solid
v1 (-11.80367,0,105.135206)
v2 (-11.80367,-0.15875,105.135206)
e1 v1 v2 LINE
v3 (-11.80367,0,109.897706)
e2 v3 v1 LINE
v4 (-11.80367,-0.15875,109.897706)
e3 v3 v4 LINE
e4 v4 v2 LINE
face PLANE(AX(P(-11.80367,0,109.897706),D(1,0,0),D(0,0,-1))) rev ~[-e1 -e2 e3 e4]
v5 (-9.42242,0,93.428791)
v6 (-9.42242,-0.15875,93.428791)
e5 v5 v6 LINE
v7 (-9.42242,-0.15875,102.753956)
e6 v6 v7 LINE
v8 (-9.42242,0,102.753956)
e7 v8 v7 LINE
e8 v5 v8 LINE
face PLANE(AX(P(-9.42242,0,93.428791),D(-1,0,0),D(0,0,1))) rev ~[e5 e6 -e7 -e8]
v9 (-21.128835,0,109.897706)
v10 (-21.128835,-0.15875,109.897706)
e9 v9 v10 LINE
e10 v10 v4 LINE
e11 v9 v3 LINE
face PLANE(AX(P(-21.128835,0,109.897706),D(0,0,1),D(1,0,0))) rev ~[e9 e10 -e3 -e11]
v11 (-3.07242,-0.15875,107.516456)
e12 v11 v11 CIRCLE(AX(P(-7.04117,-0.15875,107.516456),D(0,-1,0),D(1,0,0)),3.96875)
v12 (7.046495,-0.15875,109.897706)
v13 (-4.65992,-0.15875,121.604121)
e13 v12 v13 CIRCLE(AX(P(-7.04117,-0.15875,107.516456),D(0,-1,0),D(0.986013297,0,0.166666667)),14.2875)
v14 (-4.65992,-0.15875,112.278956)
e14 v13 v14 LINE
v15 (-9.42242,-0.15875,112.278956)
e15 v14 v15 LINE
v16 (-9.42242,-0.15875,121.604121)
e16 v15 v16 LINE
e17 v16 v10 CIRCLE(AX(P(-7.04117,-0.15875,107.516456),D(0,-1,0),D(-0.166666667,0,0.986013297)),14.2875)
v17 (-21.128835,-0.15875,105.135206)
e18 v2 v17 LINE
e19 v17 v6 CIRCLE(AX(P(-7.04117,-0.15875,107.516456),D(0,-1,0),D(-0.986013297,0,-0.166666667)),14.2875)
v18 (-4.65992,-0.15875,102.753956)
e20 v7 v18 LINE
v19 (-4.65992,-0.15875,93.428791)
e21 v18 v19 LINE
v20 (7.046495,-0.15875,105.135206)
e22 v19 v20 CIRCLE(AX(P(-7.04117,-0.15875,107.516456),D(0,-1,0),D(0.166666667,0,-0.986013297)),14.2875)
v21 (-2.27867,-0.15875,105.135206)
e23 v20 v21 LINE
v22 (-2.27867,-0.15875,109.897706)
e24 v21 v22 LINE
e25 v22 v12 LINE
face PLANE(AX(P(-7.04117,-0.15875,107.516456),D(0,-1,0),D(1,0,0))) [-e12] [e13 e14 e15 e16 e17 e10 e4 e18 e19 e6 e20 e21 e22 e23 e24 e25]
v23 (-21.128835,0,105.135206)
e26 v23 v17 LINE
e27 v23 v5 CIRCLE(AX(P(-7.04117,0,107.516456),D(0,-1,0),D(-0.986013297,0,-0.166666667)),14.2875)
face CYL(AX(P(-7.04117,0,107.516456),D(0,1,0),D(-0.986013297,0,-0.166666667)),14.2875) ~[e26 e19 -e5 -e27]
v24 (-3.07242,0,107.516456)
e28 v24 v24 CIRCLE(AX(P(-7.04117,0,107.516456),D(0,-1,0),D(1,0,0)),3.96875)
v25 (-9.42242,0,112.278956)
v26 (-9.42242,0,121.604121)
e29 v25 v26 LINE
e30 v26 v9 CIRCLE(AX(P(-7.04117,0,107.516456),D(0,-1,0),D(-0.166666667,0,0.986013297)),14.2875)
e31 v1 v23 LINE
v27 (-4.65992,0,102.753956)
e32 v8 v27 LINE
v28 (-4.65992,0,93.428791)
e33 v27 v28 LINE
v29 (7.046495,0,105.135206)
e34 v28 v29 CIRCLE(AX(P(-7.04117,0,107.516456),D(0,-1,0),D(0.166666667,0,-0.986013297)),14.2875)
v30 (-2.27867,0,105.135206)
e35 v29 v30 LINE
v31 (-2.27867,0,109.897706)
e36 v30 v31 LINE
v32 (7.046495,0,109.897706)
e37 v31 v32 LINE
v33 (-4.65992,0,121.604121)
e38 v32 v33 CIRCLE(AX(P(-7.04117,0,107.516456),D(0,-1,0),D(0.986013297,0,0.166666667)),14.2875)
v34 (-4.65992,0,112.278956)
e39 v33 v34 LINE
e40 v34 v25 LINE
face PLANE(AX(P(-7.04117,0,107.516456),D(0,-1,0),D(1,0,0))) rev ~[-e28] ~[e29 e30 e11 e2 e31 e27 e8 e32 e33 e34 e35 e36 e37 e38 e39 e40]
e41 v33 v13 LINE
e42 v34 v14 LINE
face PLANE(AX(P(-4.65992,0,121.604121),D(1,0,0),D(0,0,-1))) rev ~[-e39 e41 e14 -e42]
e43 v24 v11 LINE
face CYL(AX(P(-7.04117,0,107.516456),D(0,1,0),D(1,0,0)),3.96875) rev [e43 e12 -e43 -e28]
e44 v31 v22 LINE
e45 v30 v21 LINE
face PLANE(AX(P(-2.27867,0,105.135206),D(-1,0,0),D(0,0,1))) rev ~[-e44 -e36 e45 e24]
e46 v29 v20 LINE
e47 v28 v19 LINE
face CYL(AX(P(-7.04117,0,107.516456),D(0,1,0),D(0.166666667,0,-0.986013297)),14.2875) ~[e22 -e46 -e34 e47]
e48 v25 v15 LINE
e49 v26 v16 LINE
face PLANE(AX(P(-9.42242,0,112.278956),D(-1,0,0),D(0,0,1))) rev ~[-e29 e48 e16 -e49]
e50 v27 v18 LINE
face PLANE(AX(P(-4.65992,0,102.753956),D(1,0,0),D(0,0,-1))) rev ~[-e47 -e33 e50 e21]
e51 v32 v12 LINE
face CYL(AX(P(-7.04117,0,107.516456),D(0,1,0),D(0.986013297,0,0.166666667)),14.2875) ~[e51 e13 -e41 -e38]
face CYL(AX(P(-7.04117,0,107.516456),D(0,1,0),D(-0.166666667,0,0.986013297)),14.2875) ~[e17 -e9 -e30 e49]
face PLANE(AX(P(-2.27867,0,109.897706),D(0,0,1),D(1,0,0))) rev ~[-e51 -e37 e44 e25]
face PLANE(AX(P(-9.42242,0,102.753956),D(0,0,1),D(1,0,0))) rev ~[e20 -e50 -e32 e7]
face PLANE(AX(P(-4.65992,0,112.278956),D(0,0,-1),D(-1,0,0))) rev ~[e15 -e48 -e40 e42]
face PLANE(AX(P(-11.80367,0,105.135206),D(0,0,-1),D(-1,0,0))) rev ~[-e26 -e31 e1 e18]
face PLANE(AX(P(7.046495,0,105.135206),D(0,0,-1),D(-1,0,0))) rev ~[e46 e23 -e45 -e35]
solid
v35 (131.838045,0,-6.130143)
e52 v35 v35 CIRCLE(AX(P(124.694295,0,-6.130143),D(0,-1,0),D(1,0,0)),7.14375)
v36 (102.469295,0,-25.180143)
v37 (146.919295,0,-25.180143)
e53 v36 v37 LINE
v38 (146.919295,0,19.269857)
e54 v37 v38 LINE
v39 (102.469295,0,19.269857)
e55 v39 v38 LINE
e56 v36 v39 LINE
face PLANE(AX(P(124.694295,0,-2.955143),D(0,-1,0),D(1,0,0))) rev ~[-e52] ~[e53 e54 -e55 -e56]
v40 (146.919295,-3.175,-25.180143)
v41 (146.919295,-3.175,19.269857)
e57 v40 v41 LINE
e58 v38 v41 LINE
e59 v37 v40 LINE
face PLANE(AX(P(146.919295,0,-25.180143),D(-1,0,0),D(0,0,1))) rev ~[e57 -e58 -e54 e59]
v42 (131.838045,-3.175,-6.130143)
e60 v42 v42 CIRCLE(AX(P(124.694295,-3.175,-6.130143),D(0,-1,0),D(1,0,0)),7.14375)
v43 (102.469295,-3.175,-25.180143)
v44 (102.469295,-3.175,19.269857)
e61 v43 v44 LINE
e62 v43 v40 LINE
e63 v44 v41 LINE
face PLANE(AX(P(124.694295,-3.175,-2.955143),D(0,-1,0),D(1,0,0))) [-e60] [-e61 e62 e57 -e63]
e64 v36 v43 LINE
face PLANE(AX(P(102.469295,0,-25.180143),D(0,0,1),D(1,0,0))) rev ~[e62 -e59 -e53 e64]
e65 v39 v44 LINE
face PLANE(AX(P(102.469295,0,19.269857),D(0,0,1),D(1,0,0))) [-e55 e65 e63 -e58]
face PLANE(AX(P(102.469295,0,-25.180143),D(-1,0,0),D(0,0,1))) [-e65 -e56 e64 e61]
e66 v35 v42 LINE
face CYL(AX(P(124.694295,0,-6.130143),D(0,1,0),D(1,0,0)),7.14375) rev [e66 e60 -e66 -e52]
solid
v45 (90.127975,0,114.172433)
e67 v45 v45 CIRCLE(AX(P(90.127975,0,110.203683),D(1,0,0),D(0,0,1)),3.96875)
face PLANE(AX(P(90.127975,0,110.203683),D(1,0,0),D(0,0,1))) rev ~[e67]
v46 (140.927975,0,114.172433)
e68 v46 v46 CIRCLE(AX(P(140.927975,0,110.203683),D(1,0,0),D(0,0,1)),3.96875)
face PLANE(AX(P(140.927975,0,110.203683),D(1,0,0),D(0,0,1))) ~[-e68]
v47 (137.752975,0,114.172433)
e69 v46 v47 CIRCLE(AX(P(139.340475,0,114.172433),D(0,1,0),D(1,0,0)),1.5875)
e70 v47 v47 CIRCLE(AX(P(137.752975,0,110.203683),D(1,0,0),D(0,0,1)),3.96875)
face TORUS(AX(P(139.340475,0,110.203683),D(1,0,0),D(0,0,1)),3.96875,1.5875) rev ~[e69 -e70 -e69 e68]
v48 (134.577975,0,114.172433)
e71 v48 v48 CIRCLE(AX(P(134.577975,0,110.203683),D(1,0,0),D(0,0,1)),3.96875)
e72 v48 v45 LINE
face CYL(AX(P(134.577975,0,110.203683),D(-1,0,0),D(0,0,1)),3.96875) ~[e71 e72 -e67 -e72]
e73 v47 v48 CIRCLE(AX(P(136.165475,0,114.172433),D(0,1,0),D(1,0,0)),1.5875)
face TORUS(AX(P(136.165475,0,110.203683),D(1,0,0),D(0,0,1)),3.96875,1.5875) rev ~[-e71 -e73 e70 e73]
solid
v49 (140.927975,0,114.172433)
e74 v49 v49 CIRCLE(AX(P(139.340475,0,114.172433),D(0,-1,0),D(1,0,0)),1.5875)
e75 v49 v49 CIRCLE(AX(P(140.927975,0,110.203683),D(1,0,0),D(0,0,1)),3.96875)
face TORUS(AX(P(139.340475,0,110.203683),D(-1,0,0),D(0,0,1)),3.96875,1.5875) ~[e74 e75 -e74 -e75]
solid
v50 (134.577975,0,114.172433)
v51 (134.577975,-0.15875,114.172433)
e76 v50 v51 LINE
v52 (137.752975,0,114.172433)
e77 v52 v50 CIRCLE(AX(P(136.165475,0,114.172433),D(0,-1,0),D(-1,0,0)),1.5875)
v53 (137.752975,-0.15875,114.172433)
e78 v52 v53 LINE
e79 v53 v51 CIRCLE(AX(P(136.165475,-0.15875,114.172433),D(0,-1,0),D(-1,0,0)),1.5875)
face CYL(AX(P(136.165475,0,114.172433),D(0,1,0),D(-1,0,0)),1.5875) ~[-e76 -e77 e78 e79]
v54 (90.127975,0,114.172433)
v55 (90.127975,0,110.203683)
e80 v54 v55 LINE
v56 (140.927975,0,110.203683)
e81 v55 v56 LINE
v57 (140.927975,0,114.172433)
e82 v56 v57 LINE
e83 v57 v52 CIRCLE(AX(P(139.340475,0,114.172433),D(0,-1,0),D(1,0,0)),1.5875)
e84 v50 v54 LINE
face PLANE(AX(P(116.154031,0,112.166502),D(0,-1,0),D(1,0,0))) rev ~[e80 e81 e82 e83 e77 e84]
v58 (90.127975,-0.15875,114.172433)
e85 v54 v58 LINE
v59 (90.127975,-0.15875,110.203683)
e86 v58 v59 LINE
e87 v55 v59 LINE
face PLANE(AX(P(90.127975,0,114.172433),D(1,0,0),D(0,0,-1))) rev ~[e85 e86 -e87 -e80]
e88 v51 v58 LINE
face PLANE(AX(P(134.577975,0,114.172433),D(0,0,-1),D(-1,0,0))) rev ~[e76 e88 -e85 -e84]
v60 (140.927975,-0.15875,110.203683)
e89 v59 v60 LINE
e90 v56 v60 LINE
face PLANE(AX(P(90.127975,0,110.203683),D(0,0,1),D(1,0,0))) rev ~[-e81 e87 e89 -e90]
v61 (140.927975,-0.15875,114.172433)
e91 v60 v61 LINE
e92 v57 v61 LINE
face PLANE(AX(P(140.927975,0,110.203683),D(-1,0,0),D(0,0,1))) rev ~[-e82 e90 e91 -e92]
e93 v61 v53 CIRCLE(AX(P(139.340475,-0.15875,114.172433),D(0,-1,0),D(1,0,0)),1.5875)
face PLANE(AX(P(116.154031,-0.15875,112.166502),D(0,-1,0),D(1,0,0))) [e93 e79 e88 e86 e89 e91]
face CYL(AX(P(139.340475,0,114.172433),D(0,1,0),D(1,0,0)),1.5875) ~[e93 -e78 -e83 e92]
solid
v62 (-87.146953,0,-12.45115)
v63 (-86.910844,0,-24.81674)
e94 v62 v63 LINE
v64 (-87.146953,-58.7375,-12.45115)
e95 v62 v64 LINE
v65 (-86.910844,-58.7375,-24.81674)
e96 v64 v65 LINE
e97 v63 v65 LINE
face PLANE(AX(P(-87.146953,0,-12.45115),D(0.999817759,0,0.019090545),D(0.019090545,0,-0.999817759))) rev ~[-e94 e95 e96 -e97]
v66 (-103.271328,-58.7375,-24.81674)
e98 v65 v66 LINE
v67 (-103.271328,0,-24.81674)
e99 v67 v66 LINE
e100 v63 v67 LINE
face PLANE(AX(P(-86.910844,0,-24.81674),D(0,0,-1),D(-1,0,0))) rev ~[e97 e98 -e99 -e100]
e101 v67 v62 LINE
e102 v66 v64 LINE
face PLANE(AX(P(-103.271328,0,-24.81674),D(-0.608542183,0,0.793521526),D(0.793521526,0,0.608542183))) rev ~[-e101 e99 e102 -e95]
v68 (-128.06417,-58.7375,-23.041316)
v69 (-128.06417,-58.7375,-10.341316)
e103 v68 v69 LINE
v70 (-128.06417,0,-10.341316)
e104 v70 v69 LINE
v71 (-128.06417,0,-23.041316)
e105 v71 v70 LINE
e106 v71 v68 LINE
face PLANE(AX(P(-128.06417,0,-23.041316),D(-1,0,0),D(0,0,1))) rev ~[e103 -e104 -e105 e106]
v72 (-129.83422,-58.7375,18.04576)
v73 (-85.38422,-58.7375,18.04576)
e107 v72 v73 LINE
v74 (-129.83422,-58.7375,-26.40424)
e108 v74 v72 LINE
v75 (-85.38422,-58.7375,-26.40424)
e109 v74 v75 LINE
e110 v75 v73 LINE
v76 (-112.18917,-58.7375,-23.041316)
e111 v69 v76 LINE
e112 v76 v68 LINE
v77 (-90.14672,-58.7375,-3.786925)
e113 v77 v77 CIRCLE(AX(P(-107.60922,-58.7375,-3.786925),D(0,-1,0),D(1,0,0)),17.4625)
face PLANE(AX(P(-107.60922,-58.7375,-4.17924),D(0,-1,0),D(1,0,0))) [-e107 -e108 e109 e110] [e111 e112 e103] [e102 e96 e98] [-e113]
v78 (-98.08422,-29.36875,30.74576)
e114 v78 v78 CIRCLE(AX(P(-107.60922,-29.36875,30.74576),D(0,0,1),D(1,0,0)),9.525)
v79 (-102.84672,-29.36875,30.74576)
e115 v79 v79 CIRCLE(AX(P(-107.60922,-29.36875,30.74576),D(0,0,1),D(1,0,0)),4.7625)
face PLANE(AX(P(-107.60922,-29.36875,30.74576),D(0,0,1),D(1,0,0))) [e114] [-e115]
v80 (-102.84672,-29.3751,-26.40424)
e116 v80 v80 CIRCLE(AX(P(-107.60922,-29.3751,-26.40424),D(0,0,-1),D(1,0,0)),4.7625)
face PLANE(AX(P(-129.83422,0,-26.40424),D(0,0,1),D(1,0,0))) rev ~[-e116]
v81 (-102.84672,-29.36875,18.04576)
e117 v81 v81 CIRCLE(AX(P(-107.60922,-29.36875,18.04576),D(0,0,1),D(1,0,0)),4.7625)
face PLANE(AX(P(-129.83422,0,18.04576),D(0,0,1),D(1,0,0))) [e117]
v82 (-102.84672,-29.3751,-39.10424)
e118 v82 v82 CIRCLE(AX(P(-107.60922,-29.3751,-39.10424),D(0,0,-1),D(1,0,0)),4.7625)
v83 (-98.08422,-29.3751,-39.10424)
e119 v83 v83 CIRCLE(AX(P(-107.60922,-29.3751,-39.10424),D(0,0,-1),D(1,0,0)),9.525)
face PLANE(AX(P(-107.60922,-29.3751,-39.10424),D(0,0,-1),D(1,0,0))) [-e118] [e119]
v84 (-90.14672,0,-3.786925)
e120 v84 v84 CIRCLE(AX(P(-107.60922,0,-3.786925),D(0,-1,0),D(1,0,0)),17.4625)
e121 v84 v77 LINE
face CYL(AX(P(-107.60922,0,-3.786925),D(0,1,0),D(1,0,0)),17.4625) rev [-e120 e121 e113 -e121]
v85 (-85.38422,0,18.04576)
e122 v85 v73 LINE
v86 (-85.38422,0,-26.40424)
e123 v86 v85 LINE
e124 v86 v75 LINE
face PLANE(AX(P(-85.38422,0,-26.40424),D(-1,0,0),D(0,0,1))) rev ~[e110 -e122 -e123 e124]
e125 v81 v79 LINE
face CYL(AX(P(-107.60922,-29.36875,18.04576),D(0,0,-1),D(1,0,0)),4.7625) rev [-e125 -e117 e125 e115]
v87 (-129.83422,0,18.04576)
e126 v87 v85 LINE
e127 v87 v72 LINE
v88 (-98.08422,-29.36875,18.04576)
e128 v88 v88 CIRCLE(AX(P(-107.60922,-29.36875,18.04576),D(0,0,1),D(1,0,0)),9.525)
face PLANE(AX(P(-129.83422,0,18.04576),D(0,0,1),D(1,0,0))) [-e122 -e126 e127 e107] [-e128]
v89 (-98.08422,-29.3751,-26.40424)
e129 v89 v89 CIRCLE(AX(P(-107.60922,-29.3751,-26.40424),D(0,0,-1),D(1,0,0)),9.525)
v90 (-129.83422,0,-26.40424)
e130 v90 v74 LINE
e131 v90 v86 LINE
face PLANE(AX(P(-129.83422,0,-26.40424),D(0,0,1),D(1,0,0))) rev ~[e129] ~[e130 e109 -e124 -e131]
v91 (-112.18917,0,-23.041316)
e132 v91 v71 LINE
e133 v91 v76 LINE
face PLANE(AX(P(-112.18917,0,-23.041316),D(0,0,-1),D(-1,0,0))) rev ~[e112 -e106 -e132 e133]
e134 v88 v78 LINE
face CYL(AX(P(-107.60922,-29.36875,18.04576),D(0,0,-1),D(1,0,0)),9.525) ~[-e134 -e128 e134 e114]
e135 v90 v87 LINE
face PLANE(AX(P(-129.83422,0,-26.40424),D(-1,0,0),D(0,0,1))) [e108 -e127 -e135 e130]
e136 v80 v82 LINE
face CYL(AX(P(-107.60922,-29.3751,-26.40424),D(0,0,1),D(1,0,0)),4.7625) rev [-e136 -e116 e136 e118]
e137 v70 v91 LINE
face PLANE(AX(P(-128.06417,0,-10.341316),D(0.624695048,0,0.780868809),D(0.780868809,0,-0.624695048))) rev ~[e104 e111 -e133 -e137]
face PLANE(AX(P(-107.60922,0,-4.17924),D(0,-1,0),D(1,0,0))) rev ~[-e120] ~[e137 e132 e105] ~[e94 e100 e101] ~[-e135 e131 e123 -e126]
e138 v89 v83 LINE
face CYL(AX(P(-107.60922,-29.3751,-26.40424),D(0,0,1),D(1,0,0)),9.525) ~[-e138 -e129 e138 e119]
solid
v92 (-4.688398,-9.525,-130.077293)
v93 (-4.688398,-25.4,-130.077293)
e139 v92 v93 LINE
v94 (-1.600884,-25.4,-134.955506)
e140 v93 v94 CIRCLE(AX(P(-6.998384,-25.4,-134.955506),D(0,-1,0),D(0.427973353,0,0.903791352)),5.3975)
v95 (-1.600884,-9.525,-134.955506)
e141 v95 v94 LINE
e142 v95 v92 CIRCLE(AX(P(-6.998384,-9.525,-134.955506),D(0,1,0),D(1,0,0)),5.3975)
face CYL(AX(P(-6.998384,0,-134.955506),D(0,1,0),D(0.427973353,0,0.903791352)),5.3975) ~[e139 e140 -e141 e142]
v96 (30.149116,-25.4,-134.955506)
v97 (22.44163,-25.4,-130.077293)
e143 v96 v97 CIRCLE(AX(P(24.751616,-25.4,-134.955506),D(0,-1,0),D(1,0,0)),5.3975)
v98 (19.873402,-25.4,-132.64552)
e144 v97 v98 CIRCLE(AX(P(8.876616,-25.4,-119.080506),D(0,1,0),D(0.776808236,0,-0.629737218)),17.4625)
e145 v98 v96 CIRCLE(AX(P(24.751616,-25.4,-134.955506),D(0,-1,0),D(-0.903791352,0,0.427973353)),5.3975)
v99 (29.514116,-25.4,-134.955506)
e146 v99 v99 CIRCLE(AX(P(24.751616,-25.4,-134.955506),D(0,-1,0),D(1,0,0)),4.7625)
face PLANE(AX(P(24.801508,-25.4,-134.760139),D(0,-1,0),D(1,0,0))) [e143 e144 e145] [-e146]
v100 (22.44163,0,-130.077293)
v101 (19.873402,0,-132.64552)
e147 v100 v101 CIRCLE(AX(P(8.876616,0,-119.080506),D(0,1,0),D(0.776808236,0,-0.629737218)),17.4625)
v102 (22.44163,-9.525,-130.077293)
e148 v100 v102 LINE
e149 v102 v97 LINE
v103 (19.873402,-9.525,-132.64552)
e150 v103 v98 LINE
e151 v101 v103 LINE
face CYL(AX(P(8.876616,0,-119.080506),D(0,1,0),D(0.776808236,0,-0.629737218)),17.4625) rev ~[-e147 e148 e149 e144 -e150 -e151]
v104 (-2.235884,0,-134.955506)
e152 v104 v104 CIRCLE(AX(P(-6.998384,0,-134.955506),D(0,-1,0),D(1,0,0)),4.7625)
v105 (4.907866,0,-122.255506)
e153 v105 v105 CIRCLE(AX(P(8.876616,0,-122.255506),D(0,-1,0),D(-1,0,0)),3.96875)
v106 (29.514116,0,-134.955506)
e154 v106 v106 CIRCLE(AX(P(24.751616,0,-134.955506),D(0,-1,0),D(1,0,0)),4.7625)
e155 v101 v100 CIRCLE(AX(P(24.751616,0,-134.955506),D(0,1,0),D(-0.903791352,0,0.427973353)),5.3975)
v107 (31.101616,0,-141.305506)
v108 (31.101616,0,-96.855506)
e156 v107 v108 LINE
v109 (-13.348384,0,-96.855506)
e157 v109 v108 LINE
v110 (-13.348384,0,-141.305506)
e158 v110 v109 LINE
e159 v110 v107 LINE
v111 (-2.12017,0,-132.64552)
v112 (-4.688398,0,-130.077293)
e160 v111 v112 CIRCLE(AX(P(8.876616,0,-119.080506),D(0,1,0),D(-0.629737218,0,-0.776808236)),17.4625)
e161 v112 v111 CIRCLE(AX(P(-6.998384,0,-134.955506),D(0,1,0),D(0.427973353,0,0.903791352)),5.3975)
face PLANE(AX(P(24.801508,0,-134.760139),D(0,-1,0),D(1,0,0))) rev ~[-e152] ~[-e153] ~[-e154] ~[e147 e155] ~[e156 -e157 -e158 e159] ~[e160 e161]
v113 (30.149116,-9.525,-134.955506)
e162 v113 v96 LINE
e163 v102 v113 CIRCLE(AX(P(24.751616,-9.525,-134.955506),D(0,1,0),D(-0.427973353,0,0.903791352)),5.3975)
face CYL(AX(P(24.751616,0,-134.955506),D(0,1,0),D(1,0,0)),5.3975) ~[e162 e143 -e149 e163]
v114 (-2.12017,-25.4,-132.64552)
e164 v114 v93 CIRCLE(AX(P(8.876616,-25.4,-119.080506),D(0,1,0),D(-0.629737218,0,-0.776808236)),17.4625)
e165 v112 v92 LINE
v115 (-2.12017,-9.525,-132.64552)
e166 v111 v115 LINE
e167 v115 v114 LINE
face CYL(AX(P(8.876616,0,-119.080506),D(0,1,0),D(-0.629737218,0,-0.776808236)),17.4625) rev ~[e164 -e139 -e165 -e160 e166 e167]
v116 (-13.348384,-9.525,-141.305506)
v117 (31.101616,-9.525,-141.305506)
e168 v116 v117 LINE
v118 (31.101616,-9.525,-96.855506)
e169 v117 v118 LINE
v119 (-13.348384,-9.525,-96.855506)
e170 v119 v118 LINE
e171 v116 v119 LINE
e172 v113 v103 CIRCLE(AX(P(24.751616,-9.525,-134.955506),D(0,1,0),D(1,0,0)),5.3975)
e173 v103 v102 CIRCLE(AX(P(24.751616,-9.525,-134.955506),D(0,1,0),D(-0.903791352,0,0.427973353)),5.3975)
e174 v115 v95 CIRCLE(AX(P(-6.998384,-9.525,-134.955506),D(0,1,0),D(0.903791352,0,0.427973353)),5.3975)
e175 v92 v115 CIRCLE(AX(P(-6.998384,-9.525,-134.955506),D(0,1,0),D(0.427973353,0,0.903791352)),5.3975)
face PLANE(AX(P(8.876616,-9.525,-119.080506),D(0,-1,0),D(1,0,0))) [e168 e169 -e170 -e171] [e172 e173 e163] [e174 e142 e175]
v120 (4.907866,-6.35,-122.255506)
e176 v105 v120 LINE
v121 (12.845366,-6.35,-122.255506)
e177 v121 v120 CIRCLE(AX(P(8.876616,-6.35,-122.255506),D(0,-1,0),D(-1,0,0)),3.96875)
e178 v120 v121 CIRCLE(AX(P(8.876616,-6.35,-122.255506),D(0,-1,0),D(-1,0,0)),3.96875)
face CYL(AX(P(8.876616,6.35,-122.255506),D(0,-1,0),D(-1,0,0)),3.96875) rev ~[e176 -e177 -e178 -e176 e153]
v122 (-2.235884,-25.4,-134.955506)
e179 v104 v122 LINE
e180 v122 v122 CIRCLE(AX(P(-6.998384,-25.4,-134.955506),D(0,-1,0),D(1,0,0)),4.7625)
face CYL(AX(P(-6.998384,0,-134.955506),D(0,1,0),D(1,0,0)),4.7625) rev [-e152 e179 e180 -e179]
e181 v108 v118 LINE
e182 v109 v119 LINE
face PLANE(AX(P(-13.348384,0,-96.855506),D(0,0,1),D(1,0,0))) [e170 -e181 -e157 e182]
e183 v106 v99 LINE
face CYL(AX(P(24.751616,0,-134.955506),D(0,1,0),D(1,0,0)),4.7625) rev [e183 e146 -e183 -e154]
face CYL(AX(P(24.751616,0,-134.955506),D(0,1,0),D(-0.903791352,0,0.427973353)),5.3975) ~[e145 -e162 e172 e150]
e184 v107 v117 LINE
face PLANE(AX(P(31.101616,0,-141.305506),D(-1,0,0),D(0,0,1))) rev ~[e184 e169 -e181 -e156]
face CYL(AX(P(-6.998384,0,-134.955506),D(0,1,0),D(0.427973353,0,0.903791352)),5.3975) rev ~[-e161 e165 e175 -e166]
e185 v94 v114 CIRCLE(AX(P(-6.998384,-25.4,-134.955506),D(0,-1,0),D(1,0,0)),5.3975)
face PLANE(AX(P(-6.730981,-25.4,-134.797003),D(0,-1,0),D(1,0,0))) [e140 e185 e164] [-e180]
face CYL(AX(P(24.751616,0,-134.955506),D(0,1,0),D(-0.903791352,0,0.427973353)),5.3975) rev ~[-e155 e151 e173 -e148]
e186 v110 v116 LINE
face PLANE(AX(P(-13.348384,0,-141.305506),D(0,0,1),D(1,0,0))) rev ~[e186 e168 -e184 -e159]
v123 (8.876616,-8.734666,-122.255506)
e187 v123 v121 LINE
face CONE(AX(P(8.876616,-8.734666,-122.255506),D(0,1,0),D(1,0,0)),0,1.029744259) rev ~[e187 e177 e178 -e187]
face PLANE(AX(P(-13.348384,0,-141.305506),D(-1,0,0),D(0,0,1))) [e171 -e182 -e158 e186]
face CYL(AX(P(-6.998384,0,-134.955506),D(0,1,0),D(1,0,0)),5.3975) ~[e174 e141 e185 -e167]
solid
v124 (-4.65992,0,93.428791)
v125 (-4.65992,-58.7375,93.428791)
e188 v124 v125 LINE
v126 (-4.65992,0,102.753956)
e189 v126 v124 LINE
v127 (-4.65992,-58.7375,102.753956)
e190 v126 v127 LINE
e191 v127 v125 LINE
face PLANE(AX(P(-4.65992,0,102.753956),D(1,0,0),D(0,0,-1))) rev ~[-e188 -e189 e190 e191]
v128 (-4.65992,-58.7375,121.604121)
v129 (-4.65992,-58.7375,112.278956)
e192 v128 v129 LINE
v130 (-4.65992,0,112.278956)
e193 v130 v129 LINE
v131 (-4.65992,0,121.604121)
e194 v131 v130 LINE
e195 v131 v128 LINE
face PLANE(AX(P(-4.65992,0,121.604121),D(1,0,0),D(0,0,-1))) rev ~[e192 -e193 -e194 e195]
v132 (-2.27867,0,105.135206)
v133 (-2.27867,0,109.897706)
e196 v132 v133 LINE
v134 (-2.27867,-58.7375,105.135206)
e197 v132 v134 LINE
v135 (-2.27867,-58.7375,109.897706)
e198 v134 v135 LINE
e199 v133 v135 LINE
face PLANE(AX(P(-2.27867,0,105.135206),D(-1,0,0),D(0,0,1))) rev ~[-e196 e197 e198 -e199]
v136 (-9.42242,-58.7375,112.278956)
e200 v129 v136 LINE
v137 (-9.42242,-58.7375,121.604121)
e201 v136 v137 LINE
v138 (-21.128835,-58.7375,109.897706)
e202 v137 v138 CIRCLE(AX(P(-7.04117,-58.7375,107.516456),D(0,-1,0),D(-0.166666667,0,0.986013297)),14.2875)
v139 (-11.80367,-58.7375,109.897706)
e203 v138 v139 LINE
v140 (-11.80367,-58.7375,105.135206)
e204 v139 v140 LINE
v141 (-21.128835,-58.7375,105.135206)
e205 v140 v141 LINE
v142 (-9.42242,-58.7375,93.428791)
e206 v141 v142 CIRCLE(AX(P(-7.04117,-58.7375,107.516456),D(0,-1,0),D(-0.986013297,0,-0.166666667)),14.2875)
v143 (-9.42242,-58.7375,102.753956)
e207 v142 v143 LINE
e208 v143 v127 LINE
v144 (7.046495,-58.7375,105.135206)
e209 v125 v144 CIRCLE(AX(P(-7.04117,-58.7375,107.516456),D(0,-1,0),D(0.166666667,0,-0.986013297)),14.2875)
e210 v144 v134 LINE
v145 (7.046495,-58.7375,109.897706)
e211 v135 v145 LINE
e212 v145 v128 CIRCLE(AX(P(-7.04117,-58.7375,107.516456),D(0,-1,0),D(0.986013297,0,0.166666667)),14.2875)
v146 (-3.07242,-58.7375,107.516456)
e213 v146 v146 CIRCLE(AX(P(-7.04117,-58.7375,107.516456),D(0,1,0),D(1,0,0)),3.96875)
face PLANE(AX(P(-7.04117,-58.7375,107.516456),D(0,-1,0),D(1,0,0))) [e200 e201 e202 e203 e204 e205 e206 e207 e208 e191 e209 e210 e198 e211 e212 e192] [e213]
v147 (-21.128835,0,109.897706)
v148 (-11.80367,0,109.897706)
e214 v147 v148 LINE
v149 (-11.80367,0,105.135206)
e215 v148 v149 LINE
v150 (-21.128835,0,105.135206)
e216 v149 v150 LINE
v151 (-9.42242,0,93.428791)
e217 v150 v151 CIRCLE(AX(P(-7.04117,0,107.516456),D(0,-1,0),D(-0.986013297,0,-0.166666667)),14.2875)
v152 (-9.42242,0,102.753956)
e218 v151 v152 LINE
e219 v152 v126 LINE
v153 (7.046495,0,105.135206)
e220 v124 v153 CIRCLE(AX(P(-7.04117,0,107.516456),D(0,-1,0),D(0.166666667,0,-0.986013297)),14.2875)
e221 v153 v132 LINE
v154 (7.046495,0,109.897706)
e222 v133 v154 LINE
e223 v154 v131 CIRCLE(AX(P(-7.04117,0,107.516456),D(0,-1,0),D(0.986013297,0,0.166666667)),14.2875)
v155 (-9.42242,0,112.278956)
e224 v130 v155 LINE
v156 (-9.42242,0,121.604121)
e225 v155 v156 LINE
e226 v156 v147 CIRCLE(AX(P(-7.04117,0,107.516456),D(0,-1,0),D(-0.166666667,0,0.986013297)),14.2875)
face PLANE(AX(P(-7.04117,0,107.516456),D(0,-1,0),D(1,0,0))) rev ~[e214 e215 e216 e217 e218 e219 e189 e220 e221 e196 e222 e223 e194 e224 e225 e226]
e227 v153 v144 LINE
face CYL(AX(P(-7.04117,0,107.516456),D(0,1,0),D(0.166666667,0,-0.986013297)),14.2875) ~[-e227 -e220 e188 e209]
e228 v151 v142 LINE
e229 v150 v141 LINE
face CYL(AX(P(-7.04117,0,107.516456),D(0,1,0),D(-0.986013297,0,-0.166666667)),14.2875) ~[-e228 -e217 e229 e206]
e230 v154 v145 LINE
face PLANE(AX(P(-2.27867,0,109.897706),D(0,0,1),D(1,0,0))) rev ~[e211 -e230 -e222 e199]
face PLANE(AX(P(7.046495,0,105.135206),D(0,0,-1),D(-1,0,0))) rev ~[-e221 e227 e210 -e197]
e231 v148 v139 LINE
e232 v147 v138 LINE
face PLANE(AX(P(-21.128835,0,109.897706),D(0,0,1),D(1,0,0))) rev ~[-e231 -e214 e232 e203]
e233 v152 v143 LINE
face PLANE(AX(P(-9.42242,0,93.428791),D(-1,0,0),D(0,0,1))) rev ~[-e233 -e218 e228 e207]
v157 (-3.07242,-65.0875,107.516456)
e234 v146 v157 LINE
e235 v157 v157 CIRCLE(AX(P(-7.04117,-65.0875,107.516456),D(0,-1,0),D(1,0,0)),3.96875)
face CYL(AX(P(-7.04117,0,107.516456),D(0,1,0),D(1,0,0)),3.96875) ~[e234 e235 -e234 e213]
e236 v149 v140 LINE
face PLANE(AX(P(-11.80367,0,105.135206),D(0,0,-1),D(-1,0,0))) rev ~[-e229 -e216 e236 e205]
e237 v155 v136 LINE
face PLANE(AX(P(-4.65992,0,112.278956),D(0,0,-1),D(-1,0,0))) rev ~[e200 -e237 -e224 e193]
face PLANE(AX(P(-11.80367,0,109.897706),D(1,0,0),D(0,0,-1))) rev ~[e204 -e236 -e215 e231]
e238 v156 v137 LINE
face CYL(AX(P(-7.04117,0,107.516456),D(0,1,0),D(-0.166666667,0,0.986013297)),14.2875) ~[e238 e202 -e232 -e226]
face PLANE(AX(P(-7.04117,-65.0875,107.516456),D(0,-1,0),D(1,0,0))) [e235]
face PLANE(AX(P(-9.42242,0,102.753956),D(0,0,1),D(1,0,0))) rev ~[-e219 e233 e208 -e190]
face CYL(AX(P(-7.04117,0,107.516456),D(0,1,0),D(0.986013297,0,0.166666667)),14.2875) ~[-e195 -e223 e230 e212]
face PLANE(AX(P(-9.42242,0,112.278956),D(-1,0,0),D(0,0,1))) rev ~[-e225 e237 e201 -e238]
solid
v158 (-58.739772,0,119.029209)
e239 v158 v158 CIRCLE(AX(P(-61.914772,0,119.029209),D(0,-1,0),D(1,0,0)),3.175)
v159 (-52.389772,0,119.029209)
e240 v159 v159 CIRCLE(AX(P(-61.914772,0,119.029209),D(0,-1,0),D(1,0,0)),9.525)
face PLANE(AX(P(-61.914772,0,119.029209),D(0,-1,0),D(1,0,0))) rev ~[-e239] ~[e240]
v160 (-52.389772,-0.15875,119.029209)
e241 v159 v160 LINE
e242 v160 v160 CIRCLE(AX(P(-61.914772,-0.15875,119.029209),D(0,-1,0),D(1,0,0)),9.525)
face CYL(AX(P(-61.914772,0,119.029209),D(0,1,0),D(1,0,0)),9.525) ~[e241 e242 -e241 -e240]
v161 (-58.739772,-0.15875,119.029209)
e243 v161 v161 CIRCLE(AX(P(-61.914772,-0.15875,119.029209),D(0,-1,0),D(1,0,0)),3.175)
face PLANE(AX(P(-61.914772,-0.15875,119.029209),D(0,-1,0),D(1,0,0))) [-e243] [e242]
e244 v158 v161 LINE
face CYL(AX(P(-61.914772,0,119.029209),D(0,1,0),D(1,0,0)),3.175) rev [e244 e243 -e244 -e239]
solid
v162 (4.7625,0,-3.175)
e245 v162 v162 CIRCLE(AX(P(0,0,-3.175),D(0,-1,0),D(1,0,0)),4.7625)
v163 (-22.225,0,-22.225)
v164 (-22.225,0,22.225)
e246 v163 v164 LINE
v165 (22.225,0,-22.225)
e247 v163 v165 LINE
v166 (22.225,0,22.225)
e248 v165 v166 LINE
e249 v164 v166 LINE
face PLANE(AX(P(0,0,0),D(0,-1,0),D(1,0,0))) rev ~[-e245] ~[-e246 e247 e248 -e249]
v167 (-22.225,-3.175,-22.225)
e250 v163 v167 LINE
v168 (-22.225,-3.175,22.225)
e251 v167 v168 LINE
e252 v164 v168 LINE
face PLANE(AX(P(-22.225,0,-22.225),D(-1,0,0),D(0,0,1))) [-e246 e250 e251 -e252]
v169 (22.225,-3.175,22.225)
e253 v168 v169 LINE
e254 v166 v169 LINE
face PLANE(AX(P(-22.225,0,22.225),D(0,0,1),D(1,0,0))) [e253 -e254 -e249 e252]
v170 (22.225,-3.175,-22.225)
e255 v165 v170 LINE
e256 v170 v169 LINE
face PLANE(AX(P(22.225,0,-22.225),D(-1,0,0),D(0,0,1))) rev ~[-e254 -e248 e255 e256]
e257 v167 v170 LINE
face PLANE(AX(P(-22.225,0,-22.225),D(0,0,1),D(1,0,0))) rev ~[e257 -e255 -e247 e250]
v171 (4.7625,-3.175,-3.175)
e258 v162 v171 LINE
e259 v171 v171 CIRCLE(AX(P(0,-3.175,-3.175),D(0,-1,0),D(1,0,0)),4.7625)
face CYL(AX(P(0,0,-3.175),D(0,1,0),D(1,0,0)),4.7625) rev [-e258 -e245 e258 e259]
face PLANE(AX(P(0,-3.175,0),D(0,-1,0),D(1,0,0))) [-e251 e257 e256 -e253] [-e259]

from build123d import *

# Parameters (mm, degrees)
F0_W      = 44.45
F0_H      = 44.45
F0_R      = 17.4625
F0_R_2    = 7.14375
F0_R_3    = 4.7625
F1_DEPTH  = 3.175
F2_DEPTH  = 3.175
F3_DEPTH  = 58.7375
F0_R_4    = 3.96875
F4_DEPTH  = 9.525
F5_D      = 7.9375
F5_DEPTH  = 6.35
F5_TIP    = 2.3846655818
F6_R      = 3.96875
F7_DEPTH  = 58.7375
F8_DEPTH  = 65.0875
F11_DEPTH = 0.15875
F6_R_2    = 9.525
F6_R_3    = 3.175
F12_DEPTH = 25.4
F13_R     = 9.525
F13_R_2   = 4.7625
F14_DEPTH = 12.7
F15_R     = 9.525
F15_R_2   = 4.7625
F16_DEPTH = 12.7


with BuildPart() as f1:
    # F0 (on Front) → F1 (new body)
    with BuildSketch(Plane.XZ):
        Rectangle(F0_W, F0_H)
        Circle(F0_R, mode=Mode.SUBTRACT)
        Circle(F0_R)
        with Locations((0, -3.175)):
            Circle(F0_R_2, mode=Mode.SUBTRACT)
        with Locations((0, -3.175)):
            Circle(F0_R_2)
        with Locations((0, -3.175)):
            Circle(F0_R_3, mode=Mode.SUBTRACT)
    extrude(amount=F1_DEPTH)


with BuildPart() as f2:
    # F0 (on Front) → F2 (new body)
    with BuildSketch(Plane.XZ):
        with Locations((124.6942952275, -2.9551434711)):
            Rectangle(F0_W, F0_H)
        with Locations((124.6942952275, -2.9551434711)):
            Circle(F0_R, mode=Mode.SUBTRACT)
        with Locations((124.6942952275, -2.9551434711)):
            Circle(F0_R)
        with Locations((124.6942952275, -6.1301434711)):
            Circle(F0_R_2, mode=Mode.SUBTRACT)
    extrude(amount=F2_DEPTH)


with BuildPart() as f3:
    # F0 (on Front) → F3 (new body)
    with BuildSketch(Plane.XZ):
        with Locations((-107.6092198491, -4.1792403042)):
            Rectangle(F0_W, F0_H)
        Polygon((-128.0641704798, -10.3413164616), (-112.1891704798, -23.0413164616), (-128.0641704798, -23.0413164616), align=None, mode=Mode.SUBTRACT)
        with Locations((-107.6092198491, -3.7869253576)):
            Circle(F0_R, mode=Mode.SUBTRACT)
        Polygon((-87.1469527483, -12.4511495233), (-86.9108438492, -24.8167403042), (-103.2713279128, -24.8167403042), align=None, mode=Mode.SUBTRACT)
    extrude(amount=F3_DEPTH)

    # F13 (on face) → F14 (join)
    with BuildSketch(Plane.XY.offset(18.0457596958)):
        with Locations((-107.6092198491, -29.36875)):
            Circle(F13_R)
        with Locations((-107.6092198491, -29.36875)):
            Circle(F13_R_2, mode=Mode.SUBTRACT)
    extrude(amount=F14_DEPTH)

    # F15 (on face) → F16 (join)
    with BuildSketch(Plane(origin=(0, 0, -26.4042403042), x_dir=(1, 0, 0), z_dir=(0, 0, -1))):
        with Locations((-107.6092198491, 29.3751)):
            Circle(F15_R)
        with Locations((-107.6092198491, 29.3751)):
            Circle(F15_R_2, mode=Mode.SUBTRACT)
    extrude(amount=F16_DEPTH)


with BuildPart() as f4:
    # F0 (on Front) → F4 (new body)
    with BuildSketch(Plane.XZ):
        with Locations((8.8766161352, -119.0805063963)):
            Rectangle(F0_W, F0_H)
        with BuildLine():
            ThreePointArc((-4.6883976895, -130.0772925715), (3.0430986571, -102.6211935284), (26.3391161352, -119.0805063963))
            ThreePointArc((26.3391161352, -119.0805063963), (25.3359290031, -124.9140238744), (22.44162996, -130.0772925715))
            ThreePointArc((22.44162996, -130.0772925715), (27.6382106573, -130.3947412943), (30.1491161352, -134.9555063963))
            ThreePointArc((30.1491161352, -134.9555063963), (23.5677987653, -140.2215848884), (19.8734023105, -132.6455202211))
            ThreePointArc((19.8734023105, -132.6455202211), (8.8766161352, -136.5430063963), (-2.12017004, -132.6455202211))
            ThreePointArc((-2.12017004, -132.6455202211), (-1.7323053727, -133.7716890264), (-1.6008838648, -134.9555063963))
            ThreePointArc((-1.6008838648, -134.9555063963), (-11.5591489667, -137.8421009183), (-4.6883976895, -130.0772925715))
        make_face(mode=Mode.SUBTRACT)
        with BuildLine():
            ThreePointArc((22.44162996, -130.0772925715), (25.3359290031, -124.9140238744), (26.3391161352, -119.0805063963))
            ThreePointArc((26.3391161352, -119.0805063963), (3.0430986571, -102.6211935284), (-4.6883976895, -130.0772925715))
            ThreePointArc((-4.6883976895, -130.0772925715), (-3.1817750133, -131.1388975448), (-2.12017004, -132.6455202211))
            ThreePointArc((-2.12017004, -132.6455202211), (8.8766161352, -136.5430063963), (19.8734023105, -132.6455202211))
            ThreePointArc((19.8734023105, -132.6455202211), (20.9350072838, -131.1388975448), (22.44162996, -130.0772925715))
        make_face()
        with Locations((8.8766161352, -122.2555063963)):
            Circle(F0_R_2, mode=Mode.SUBTRACT)
        with Locations((8.8766161352, -122.2555063963)):
            Circle(F0_R_2)
        with Locations((8.8766161352, -122.2555063963)):
            Circle(F0_R_3, mode=Mode.SUBTRACT)
        with Locations((8.8766161352, -122.2555063963)):
            Circle(F0_R_3)
        with Locations((8.8766161352, -122.2555063963)):
            Circle(F0_R_4, mode=Mode.SUBTRACT)
        with Locations((8.8766161352, -122.2555063963)):
            Circle(F0_R_4)
    extrude(amount=F4_DEPTH)

    # F5
    with Locations(Plane(origin=(0, 0, 0), x_dir=(1, 0, 0), z_dir=(0, 1, 0))):
        with Locations((8.8766161352, 122.2555063963)):
            Hole(F5_D / 2, depth=F5_DEPTH)
            with Locations((0, 0, -(F5_DEPTH + F5_TIP / 2))):  # 118° drill point
                Cone(0, F5_D / 2, F5_TIP, mode=Mode.SUBTRACT)

    # F0 (on Front) → F12 (join)
    with BuildSketch(Plane.XZ):
        with BuildLine():
            ThreePointArc((30.1491161352, -134.9555063963), (27.6382106573, -130.3947412943), (22.44162996, -130.0772925715))
            ThreePointArc((22.44162996, -130.0772925715), (21.2244683017, -131.4283585628), (19.8734023105, -132.6455202211))
            ThreePointArc((19.8734023105, -132.6455202211), (23.5677987653, -140.2215848884), (30.1491161352, -134.9555063963))
        make_face()
        with Locations((24.7516161352, -134.9555063963)):
            Circle(F0_R_3, mode=Mode.SUBTRACT)
        with BuildLine():
            ThreePointArc((-2.12017004, -132.6455202211), (-3.4712360312, -131.4283585628), (-4.6883976895, -130.0772925715))
            ThreePointArc((-4.6883976895, -130.0772925715), (-11.5591489667, -137.8421009183), (-1.6008838648, -134.9555063963))
            ThreePointArc((-1.6008838648, -134.9555063963), (-1.7323053727, -133.7716890264), (-2.12017004, -132.6455202211))
        make_face()
        with Locations((-6.9983838648, -134.9555063963)):
            Circle(F0_R_3, mode=Mode.SUBTRACT)
    extrude(amount=F12_DEPTH)


with BuildPart() as f7:
    # F6 (on Front) → F7 (new body)
    with BuildSketch(Plane.XZ):
        with BuildLine():
            Line((-4.6599195927, 102.753955853), (-4.6599195927, 93.4287908695))
            ThreePointArc((-4.6599195927, 93.4287908695), (3.0616185435, 97.4136677168), (7.0464953908, 105.135205853))
            Line((7.0464953908, 105.135205853), (-2.2786695927, 105.135205853))
            Line((-2.2786695927, 105.135205853), (-2.2786695927, 109.897705853))
            Line((-2.2786695927, 109.897705853), (7.0464953908, 109.897705853))
            ThreePointArc((7.0464953908, 109.897705853), (3.0616185435, 117.6192439892), (-4.6599195927, 121.6041208365))
            Line((-4.6599195927, 121.6041208365), (-4.6599195927, 112.278955853))
            Line((-4.6599195927, 112.278955853), (-9.4224195927, 112.278955853))
            Line((-9.4224195927, 112.278955853), (-9.4224195927, 121.6041208365))
            ThreePointArc((-9.4224195927, 121.6041208365), (-17.1439577289, 117.6192439892), (-21.1288345762, 109.897705853))
            Line((-21.1288345762, 109.897705853), (-11.8036695927, 109.897705853))
            Line((-11.8036695927, 109.897705853), (-11.8036695927, 105.135205853))
            Line((-11.8036695927, 105.135205853), (-21.1288345762, 105.135205853))
            ThreePointArc((-21.1288345762, 105.135205853), (-17.1439577289, 97.4136677168), (-9.4224195927, 93.4287908695))
            Line((-9.4224195927, 93.4287908695), (-9.4224195927, 102.753955853))
            Line((-9.4224195927, 102.753955853), (-4.6599195927, 102.753955853))
        make_face()
        with Locations((-7.0411695927, 107.516455853)):
            Circle(F6_R, mode=Mode.SUBTRACT)
        with Locations((-7.0411695927, 107.516455853)):
            Circle(F6_R)
    extrude(amount=F7_DEPTH)

    # F6 (on Front) → F8 (join)
    with BuildSketch(Plane.XZ):
        with Locations((-7.0411695927, 107.516455853)):
            Circle(F6_R)
    extrude(amount=F8_DEPTH)


with BuildPart() as f9:
    # F6 (on Front) → F9 (revolve)
    with BuildSketch(Plane.XZ):
        with BuildLine():
            Line((90.1279747486, 114.1724333763), (90.1279747486, 110.2036833763))
            Line((90.1279747486, 110.2036833763), (140.9279747486, 110.2036833763))
            Line((140.9279747486, 110.2036833763), (140.9279747486, 114.1724333763))
            ThreePointArc((140.9279747486, 114.1724333763), (139.3404747486, 112.5849333763), (137.7529747486, 114.1724333763))
            ThreePointArc((137.7529747486, 114.1724333763), (136.1654747486, 112.5849333763), (134.5779747486, 114.1724333763))
            Line((134.5779747486, 114.1724333763), (90.1279747486, 114.1724333763))
        make_face()
    revolve(axis=Axis((115.5279747486, 0, 110.2036833763), (1, 0, 0)))


with BuildPart() as f10:
    # F6 (on Front) → F10 (revolve)
    with BuildSketch(Plane.XZ):
        with BuildLine():
            ThreePointArc((137.7529747486, 114.1724333763), (139.3404747486, 112.5849333763), (140.9279747486, 114.1724333763))
            ThreePointArc((140.9279747486, 114.1724333763), (139.3404747486, 115.7599333763), (137.7529747486, 114.1724333763))
        make_face()
    revolve(axis=Axis((115.5279747486, 0, 110.2036833763), (1, 0, 0)))


with BuildPart() as f11:
    # F6 (on Front) → F11 (new body)
    with BuildSketch(Plane.XZ):
        with BuildLine():
            Line((-4.6599195927, 102.753955853), (-4.6599195927, 93.4287908695))
            ThreePointArc((-4.6599195927, 93.4287908695), (3.0616185435, 97.4136677168), (7.0464953908, 105.135205853))
            Line((7.0464953908, 105.135205853), (-2.2786695927, 105.135205853))
            Line((-2.2786695927, 105.135205853), (-2.2786695927, 109.897705853))
            Line((-2.2786695927, 109.897705853), (7.0464953908, 109.897705853))
            ThreePointArc((7.0464953908, 109.897705853), (3.0616185435, 117.6192439892), (-4.6599195927, 121.6041208365))
            Line((-4.6599195927, 121.6041208365), (-4.6599195927, 112.278955853))
            Line((-4.6599195927, 112.278955853), (-9.4224195927, 112.278955853))
            Line((-9.4224195927, 112.278955853), (-9.4224195927, 121.6041208365))
            ThreePointArc((-9.4224195927, 121.6041208365), (-17.1439577289, 117.6192439892), (-21.1288345762, 109.897705853))
            Line((-21.1288345762, 109.897705853), (-11.8036695927, 109.897705853))
            Line((-11.8036695927, 109.897705853), (-11.8036695927, 105.135205853))
            Line((-11.8036695927, 105.135205853), (-21.1288345762, 105.135205853))
            ThreePointArc((-21.1288345762, 105.135205853), (-17.1439577289, 97.4136677168), (-9.4224195927, 93.4287908695))
            Line((-9.4224195927, 93.4287908695), (-9.4224195927, 102.753955853))
            Line((-9.4224195927, 102.753955853), (-4.6599195927, 102.753955853))
        make_face()
        with Locations((-7.0411695927, 107.516455853)):
            Circle(F6_R, mode=Mode.SUBTRACT)
    extrude(amount=F11_DEPTH)


with BuildPart() as f11b:
    # F6 (on Front) → F11, piece 2 (new body)
    with BuildSketch(Plane.XZ):
        with BuildLine():
            Line((90.1279747486, 114.1724333763), (90.1279747486, 110.2036833763))
            Line((90.1279747486, 110.2036833763), (140.9279747486, 110.2036833763))
            Line((140.9279747486, 110.2036833763), (140.9279747486, 114.1724333763))
            ThreePointArc((140.9279747486, 114.1724333763), (139.3404747486, 112.5849333763), (137.7529747486, 114.1724333763))
            ThreePointArc((137.7529747486, 114.1724333763), (136.1654747486, 112.5849333763), (134.5779747486, 114.1724333763))
            Line((134.5779747486, 114.1724333763), (90.1279747486, 114.1724333763))
        make_face()
        with BuildLine():
            ThreePointArc((137.7529747486, 114.1724333763), (139.3404747486, 112.5849333763), (140.9279747486, 114.1724333763))
            ThreePointArc((140.9279747486, 114.1724333763), (139.3404747486, 115.7599333763), (137.7529747486, 114.1724333763))
        make_face()
        with BuildLine():
            ThreePointArc((137.7529747486, 114.1724333763), (136.1654747486, 115.7599333763), (134.5779747486, 114.1724333763))
            ThreePointArc((134.5779747486, 114.1724333763), (136.1654747486, 112.5849333763), (137.7529747486, 114.1724333763))
        make_face()
    extrude(amount=F11_DEPTH)


with BuildPart() as f11c:
    # F6 (on Front) → F11, piece 3 (new body)
    with BuildSketch(Plane.XZ):
        with Locations((-61.9147717953, 119.0292090178)):
            Circle(F6_R_2)
        with Locations((-61.9147717953, 119.0292090178)):
            Circle(F6_R_3, mode=Mode.SUBTRACT)
    extrude(amount=F11_DEPTH)


solid = Compound([f1.part, f2.part, f3.part, f4.part, f7.part, f9.part, f10.part, f11.part, f11b.part, f11c.part])
